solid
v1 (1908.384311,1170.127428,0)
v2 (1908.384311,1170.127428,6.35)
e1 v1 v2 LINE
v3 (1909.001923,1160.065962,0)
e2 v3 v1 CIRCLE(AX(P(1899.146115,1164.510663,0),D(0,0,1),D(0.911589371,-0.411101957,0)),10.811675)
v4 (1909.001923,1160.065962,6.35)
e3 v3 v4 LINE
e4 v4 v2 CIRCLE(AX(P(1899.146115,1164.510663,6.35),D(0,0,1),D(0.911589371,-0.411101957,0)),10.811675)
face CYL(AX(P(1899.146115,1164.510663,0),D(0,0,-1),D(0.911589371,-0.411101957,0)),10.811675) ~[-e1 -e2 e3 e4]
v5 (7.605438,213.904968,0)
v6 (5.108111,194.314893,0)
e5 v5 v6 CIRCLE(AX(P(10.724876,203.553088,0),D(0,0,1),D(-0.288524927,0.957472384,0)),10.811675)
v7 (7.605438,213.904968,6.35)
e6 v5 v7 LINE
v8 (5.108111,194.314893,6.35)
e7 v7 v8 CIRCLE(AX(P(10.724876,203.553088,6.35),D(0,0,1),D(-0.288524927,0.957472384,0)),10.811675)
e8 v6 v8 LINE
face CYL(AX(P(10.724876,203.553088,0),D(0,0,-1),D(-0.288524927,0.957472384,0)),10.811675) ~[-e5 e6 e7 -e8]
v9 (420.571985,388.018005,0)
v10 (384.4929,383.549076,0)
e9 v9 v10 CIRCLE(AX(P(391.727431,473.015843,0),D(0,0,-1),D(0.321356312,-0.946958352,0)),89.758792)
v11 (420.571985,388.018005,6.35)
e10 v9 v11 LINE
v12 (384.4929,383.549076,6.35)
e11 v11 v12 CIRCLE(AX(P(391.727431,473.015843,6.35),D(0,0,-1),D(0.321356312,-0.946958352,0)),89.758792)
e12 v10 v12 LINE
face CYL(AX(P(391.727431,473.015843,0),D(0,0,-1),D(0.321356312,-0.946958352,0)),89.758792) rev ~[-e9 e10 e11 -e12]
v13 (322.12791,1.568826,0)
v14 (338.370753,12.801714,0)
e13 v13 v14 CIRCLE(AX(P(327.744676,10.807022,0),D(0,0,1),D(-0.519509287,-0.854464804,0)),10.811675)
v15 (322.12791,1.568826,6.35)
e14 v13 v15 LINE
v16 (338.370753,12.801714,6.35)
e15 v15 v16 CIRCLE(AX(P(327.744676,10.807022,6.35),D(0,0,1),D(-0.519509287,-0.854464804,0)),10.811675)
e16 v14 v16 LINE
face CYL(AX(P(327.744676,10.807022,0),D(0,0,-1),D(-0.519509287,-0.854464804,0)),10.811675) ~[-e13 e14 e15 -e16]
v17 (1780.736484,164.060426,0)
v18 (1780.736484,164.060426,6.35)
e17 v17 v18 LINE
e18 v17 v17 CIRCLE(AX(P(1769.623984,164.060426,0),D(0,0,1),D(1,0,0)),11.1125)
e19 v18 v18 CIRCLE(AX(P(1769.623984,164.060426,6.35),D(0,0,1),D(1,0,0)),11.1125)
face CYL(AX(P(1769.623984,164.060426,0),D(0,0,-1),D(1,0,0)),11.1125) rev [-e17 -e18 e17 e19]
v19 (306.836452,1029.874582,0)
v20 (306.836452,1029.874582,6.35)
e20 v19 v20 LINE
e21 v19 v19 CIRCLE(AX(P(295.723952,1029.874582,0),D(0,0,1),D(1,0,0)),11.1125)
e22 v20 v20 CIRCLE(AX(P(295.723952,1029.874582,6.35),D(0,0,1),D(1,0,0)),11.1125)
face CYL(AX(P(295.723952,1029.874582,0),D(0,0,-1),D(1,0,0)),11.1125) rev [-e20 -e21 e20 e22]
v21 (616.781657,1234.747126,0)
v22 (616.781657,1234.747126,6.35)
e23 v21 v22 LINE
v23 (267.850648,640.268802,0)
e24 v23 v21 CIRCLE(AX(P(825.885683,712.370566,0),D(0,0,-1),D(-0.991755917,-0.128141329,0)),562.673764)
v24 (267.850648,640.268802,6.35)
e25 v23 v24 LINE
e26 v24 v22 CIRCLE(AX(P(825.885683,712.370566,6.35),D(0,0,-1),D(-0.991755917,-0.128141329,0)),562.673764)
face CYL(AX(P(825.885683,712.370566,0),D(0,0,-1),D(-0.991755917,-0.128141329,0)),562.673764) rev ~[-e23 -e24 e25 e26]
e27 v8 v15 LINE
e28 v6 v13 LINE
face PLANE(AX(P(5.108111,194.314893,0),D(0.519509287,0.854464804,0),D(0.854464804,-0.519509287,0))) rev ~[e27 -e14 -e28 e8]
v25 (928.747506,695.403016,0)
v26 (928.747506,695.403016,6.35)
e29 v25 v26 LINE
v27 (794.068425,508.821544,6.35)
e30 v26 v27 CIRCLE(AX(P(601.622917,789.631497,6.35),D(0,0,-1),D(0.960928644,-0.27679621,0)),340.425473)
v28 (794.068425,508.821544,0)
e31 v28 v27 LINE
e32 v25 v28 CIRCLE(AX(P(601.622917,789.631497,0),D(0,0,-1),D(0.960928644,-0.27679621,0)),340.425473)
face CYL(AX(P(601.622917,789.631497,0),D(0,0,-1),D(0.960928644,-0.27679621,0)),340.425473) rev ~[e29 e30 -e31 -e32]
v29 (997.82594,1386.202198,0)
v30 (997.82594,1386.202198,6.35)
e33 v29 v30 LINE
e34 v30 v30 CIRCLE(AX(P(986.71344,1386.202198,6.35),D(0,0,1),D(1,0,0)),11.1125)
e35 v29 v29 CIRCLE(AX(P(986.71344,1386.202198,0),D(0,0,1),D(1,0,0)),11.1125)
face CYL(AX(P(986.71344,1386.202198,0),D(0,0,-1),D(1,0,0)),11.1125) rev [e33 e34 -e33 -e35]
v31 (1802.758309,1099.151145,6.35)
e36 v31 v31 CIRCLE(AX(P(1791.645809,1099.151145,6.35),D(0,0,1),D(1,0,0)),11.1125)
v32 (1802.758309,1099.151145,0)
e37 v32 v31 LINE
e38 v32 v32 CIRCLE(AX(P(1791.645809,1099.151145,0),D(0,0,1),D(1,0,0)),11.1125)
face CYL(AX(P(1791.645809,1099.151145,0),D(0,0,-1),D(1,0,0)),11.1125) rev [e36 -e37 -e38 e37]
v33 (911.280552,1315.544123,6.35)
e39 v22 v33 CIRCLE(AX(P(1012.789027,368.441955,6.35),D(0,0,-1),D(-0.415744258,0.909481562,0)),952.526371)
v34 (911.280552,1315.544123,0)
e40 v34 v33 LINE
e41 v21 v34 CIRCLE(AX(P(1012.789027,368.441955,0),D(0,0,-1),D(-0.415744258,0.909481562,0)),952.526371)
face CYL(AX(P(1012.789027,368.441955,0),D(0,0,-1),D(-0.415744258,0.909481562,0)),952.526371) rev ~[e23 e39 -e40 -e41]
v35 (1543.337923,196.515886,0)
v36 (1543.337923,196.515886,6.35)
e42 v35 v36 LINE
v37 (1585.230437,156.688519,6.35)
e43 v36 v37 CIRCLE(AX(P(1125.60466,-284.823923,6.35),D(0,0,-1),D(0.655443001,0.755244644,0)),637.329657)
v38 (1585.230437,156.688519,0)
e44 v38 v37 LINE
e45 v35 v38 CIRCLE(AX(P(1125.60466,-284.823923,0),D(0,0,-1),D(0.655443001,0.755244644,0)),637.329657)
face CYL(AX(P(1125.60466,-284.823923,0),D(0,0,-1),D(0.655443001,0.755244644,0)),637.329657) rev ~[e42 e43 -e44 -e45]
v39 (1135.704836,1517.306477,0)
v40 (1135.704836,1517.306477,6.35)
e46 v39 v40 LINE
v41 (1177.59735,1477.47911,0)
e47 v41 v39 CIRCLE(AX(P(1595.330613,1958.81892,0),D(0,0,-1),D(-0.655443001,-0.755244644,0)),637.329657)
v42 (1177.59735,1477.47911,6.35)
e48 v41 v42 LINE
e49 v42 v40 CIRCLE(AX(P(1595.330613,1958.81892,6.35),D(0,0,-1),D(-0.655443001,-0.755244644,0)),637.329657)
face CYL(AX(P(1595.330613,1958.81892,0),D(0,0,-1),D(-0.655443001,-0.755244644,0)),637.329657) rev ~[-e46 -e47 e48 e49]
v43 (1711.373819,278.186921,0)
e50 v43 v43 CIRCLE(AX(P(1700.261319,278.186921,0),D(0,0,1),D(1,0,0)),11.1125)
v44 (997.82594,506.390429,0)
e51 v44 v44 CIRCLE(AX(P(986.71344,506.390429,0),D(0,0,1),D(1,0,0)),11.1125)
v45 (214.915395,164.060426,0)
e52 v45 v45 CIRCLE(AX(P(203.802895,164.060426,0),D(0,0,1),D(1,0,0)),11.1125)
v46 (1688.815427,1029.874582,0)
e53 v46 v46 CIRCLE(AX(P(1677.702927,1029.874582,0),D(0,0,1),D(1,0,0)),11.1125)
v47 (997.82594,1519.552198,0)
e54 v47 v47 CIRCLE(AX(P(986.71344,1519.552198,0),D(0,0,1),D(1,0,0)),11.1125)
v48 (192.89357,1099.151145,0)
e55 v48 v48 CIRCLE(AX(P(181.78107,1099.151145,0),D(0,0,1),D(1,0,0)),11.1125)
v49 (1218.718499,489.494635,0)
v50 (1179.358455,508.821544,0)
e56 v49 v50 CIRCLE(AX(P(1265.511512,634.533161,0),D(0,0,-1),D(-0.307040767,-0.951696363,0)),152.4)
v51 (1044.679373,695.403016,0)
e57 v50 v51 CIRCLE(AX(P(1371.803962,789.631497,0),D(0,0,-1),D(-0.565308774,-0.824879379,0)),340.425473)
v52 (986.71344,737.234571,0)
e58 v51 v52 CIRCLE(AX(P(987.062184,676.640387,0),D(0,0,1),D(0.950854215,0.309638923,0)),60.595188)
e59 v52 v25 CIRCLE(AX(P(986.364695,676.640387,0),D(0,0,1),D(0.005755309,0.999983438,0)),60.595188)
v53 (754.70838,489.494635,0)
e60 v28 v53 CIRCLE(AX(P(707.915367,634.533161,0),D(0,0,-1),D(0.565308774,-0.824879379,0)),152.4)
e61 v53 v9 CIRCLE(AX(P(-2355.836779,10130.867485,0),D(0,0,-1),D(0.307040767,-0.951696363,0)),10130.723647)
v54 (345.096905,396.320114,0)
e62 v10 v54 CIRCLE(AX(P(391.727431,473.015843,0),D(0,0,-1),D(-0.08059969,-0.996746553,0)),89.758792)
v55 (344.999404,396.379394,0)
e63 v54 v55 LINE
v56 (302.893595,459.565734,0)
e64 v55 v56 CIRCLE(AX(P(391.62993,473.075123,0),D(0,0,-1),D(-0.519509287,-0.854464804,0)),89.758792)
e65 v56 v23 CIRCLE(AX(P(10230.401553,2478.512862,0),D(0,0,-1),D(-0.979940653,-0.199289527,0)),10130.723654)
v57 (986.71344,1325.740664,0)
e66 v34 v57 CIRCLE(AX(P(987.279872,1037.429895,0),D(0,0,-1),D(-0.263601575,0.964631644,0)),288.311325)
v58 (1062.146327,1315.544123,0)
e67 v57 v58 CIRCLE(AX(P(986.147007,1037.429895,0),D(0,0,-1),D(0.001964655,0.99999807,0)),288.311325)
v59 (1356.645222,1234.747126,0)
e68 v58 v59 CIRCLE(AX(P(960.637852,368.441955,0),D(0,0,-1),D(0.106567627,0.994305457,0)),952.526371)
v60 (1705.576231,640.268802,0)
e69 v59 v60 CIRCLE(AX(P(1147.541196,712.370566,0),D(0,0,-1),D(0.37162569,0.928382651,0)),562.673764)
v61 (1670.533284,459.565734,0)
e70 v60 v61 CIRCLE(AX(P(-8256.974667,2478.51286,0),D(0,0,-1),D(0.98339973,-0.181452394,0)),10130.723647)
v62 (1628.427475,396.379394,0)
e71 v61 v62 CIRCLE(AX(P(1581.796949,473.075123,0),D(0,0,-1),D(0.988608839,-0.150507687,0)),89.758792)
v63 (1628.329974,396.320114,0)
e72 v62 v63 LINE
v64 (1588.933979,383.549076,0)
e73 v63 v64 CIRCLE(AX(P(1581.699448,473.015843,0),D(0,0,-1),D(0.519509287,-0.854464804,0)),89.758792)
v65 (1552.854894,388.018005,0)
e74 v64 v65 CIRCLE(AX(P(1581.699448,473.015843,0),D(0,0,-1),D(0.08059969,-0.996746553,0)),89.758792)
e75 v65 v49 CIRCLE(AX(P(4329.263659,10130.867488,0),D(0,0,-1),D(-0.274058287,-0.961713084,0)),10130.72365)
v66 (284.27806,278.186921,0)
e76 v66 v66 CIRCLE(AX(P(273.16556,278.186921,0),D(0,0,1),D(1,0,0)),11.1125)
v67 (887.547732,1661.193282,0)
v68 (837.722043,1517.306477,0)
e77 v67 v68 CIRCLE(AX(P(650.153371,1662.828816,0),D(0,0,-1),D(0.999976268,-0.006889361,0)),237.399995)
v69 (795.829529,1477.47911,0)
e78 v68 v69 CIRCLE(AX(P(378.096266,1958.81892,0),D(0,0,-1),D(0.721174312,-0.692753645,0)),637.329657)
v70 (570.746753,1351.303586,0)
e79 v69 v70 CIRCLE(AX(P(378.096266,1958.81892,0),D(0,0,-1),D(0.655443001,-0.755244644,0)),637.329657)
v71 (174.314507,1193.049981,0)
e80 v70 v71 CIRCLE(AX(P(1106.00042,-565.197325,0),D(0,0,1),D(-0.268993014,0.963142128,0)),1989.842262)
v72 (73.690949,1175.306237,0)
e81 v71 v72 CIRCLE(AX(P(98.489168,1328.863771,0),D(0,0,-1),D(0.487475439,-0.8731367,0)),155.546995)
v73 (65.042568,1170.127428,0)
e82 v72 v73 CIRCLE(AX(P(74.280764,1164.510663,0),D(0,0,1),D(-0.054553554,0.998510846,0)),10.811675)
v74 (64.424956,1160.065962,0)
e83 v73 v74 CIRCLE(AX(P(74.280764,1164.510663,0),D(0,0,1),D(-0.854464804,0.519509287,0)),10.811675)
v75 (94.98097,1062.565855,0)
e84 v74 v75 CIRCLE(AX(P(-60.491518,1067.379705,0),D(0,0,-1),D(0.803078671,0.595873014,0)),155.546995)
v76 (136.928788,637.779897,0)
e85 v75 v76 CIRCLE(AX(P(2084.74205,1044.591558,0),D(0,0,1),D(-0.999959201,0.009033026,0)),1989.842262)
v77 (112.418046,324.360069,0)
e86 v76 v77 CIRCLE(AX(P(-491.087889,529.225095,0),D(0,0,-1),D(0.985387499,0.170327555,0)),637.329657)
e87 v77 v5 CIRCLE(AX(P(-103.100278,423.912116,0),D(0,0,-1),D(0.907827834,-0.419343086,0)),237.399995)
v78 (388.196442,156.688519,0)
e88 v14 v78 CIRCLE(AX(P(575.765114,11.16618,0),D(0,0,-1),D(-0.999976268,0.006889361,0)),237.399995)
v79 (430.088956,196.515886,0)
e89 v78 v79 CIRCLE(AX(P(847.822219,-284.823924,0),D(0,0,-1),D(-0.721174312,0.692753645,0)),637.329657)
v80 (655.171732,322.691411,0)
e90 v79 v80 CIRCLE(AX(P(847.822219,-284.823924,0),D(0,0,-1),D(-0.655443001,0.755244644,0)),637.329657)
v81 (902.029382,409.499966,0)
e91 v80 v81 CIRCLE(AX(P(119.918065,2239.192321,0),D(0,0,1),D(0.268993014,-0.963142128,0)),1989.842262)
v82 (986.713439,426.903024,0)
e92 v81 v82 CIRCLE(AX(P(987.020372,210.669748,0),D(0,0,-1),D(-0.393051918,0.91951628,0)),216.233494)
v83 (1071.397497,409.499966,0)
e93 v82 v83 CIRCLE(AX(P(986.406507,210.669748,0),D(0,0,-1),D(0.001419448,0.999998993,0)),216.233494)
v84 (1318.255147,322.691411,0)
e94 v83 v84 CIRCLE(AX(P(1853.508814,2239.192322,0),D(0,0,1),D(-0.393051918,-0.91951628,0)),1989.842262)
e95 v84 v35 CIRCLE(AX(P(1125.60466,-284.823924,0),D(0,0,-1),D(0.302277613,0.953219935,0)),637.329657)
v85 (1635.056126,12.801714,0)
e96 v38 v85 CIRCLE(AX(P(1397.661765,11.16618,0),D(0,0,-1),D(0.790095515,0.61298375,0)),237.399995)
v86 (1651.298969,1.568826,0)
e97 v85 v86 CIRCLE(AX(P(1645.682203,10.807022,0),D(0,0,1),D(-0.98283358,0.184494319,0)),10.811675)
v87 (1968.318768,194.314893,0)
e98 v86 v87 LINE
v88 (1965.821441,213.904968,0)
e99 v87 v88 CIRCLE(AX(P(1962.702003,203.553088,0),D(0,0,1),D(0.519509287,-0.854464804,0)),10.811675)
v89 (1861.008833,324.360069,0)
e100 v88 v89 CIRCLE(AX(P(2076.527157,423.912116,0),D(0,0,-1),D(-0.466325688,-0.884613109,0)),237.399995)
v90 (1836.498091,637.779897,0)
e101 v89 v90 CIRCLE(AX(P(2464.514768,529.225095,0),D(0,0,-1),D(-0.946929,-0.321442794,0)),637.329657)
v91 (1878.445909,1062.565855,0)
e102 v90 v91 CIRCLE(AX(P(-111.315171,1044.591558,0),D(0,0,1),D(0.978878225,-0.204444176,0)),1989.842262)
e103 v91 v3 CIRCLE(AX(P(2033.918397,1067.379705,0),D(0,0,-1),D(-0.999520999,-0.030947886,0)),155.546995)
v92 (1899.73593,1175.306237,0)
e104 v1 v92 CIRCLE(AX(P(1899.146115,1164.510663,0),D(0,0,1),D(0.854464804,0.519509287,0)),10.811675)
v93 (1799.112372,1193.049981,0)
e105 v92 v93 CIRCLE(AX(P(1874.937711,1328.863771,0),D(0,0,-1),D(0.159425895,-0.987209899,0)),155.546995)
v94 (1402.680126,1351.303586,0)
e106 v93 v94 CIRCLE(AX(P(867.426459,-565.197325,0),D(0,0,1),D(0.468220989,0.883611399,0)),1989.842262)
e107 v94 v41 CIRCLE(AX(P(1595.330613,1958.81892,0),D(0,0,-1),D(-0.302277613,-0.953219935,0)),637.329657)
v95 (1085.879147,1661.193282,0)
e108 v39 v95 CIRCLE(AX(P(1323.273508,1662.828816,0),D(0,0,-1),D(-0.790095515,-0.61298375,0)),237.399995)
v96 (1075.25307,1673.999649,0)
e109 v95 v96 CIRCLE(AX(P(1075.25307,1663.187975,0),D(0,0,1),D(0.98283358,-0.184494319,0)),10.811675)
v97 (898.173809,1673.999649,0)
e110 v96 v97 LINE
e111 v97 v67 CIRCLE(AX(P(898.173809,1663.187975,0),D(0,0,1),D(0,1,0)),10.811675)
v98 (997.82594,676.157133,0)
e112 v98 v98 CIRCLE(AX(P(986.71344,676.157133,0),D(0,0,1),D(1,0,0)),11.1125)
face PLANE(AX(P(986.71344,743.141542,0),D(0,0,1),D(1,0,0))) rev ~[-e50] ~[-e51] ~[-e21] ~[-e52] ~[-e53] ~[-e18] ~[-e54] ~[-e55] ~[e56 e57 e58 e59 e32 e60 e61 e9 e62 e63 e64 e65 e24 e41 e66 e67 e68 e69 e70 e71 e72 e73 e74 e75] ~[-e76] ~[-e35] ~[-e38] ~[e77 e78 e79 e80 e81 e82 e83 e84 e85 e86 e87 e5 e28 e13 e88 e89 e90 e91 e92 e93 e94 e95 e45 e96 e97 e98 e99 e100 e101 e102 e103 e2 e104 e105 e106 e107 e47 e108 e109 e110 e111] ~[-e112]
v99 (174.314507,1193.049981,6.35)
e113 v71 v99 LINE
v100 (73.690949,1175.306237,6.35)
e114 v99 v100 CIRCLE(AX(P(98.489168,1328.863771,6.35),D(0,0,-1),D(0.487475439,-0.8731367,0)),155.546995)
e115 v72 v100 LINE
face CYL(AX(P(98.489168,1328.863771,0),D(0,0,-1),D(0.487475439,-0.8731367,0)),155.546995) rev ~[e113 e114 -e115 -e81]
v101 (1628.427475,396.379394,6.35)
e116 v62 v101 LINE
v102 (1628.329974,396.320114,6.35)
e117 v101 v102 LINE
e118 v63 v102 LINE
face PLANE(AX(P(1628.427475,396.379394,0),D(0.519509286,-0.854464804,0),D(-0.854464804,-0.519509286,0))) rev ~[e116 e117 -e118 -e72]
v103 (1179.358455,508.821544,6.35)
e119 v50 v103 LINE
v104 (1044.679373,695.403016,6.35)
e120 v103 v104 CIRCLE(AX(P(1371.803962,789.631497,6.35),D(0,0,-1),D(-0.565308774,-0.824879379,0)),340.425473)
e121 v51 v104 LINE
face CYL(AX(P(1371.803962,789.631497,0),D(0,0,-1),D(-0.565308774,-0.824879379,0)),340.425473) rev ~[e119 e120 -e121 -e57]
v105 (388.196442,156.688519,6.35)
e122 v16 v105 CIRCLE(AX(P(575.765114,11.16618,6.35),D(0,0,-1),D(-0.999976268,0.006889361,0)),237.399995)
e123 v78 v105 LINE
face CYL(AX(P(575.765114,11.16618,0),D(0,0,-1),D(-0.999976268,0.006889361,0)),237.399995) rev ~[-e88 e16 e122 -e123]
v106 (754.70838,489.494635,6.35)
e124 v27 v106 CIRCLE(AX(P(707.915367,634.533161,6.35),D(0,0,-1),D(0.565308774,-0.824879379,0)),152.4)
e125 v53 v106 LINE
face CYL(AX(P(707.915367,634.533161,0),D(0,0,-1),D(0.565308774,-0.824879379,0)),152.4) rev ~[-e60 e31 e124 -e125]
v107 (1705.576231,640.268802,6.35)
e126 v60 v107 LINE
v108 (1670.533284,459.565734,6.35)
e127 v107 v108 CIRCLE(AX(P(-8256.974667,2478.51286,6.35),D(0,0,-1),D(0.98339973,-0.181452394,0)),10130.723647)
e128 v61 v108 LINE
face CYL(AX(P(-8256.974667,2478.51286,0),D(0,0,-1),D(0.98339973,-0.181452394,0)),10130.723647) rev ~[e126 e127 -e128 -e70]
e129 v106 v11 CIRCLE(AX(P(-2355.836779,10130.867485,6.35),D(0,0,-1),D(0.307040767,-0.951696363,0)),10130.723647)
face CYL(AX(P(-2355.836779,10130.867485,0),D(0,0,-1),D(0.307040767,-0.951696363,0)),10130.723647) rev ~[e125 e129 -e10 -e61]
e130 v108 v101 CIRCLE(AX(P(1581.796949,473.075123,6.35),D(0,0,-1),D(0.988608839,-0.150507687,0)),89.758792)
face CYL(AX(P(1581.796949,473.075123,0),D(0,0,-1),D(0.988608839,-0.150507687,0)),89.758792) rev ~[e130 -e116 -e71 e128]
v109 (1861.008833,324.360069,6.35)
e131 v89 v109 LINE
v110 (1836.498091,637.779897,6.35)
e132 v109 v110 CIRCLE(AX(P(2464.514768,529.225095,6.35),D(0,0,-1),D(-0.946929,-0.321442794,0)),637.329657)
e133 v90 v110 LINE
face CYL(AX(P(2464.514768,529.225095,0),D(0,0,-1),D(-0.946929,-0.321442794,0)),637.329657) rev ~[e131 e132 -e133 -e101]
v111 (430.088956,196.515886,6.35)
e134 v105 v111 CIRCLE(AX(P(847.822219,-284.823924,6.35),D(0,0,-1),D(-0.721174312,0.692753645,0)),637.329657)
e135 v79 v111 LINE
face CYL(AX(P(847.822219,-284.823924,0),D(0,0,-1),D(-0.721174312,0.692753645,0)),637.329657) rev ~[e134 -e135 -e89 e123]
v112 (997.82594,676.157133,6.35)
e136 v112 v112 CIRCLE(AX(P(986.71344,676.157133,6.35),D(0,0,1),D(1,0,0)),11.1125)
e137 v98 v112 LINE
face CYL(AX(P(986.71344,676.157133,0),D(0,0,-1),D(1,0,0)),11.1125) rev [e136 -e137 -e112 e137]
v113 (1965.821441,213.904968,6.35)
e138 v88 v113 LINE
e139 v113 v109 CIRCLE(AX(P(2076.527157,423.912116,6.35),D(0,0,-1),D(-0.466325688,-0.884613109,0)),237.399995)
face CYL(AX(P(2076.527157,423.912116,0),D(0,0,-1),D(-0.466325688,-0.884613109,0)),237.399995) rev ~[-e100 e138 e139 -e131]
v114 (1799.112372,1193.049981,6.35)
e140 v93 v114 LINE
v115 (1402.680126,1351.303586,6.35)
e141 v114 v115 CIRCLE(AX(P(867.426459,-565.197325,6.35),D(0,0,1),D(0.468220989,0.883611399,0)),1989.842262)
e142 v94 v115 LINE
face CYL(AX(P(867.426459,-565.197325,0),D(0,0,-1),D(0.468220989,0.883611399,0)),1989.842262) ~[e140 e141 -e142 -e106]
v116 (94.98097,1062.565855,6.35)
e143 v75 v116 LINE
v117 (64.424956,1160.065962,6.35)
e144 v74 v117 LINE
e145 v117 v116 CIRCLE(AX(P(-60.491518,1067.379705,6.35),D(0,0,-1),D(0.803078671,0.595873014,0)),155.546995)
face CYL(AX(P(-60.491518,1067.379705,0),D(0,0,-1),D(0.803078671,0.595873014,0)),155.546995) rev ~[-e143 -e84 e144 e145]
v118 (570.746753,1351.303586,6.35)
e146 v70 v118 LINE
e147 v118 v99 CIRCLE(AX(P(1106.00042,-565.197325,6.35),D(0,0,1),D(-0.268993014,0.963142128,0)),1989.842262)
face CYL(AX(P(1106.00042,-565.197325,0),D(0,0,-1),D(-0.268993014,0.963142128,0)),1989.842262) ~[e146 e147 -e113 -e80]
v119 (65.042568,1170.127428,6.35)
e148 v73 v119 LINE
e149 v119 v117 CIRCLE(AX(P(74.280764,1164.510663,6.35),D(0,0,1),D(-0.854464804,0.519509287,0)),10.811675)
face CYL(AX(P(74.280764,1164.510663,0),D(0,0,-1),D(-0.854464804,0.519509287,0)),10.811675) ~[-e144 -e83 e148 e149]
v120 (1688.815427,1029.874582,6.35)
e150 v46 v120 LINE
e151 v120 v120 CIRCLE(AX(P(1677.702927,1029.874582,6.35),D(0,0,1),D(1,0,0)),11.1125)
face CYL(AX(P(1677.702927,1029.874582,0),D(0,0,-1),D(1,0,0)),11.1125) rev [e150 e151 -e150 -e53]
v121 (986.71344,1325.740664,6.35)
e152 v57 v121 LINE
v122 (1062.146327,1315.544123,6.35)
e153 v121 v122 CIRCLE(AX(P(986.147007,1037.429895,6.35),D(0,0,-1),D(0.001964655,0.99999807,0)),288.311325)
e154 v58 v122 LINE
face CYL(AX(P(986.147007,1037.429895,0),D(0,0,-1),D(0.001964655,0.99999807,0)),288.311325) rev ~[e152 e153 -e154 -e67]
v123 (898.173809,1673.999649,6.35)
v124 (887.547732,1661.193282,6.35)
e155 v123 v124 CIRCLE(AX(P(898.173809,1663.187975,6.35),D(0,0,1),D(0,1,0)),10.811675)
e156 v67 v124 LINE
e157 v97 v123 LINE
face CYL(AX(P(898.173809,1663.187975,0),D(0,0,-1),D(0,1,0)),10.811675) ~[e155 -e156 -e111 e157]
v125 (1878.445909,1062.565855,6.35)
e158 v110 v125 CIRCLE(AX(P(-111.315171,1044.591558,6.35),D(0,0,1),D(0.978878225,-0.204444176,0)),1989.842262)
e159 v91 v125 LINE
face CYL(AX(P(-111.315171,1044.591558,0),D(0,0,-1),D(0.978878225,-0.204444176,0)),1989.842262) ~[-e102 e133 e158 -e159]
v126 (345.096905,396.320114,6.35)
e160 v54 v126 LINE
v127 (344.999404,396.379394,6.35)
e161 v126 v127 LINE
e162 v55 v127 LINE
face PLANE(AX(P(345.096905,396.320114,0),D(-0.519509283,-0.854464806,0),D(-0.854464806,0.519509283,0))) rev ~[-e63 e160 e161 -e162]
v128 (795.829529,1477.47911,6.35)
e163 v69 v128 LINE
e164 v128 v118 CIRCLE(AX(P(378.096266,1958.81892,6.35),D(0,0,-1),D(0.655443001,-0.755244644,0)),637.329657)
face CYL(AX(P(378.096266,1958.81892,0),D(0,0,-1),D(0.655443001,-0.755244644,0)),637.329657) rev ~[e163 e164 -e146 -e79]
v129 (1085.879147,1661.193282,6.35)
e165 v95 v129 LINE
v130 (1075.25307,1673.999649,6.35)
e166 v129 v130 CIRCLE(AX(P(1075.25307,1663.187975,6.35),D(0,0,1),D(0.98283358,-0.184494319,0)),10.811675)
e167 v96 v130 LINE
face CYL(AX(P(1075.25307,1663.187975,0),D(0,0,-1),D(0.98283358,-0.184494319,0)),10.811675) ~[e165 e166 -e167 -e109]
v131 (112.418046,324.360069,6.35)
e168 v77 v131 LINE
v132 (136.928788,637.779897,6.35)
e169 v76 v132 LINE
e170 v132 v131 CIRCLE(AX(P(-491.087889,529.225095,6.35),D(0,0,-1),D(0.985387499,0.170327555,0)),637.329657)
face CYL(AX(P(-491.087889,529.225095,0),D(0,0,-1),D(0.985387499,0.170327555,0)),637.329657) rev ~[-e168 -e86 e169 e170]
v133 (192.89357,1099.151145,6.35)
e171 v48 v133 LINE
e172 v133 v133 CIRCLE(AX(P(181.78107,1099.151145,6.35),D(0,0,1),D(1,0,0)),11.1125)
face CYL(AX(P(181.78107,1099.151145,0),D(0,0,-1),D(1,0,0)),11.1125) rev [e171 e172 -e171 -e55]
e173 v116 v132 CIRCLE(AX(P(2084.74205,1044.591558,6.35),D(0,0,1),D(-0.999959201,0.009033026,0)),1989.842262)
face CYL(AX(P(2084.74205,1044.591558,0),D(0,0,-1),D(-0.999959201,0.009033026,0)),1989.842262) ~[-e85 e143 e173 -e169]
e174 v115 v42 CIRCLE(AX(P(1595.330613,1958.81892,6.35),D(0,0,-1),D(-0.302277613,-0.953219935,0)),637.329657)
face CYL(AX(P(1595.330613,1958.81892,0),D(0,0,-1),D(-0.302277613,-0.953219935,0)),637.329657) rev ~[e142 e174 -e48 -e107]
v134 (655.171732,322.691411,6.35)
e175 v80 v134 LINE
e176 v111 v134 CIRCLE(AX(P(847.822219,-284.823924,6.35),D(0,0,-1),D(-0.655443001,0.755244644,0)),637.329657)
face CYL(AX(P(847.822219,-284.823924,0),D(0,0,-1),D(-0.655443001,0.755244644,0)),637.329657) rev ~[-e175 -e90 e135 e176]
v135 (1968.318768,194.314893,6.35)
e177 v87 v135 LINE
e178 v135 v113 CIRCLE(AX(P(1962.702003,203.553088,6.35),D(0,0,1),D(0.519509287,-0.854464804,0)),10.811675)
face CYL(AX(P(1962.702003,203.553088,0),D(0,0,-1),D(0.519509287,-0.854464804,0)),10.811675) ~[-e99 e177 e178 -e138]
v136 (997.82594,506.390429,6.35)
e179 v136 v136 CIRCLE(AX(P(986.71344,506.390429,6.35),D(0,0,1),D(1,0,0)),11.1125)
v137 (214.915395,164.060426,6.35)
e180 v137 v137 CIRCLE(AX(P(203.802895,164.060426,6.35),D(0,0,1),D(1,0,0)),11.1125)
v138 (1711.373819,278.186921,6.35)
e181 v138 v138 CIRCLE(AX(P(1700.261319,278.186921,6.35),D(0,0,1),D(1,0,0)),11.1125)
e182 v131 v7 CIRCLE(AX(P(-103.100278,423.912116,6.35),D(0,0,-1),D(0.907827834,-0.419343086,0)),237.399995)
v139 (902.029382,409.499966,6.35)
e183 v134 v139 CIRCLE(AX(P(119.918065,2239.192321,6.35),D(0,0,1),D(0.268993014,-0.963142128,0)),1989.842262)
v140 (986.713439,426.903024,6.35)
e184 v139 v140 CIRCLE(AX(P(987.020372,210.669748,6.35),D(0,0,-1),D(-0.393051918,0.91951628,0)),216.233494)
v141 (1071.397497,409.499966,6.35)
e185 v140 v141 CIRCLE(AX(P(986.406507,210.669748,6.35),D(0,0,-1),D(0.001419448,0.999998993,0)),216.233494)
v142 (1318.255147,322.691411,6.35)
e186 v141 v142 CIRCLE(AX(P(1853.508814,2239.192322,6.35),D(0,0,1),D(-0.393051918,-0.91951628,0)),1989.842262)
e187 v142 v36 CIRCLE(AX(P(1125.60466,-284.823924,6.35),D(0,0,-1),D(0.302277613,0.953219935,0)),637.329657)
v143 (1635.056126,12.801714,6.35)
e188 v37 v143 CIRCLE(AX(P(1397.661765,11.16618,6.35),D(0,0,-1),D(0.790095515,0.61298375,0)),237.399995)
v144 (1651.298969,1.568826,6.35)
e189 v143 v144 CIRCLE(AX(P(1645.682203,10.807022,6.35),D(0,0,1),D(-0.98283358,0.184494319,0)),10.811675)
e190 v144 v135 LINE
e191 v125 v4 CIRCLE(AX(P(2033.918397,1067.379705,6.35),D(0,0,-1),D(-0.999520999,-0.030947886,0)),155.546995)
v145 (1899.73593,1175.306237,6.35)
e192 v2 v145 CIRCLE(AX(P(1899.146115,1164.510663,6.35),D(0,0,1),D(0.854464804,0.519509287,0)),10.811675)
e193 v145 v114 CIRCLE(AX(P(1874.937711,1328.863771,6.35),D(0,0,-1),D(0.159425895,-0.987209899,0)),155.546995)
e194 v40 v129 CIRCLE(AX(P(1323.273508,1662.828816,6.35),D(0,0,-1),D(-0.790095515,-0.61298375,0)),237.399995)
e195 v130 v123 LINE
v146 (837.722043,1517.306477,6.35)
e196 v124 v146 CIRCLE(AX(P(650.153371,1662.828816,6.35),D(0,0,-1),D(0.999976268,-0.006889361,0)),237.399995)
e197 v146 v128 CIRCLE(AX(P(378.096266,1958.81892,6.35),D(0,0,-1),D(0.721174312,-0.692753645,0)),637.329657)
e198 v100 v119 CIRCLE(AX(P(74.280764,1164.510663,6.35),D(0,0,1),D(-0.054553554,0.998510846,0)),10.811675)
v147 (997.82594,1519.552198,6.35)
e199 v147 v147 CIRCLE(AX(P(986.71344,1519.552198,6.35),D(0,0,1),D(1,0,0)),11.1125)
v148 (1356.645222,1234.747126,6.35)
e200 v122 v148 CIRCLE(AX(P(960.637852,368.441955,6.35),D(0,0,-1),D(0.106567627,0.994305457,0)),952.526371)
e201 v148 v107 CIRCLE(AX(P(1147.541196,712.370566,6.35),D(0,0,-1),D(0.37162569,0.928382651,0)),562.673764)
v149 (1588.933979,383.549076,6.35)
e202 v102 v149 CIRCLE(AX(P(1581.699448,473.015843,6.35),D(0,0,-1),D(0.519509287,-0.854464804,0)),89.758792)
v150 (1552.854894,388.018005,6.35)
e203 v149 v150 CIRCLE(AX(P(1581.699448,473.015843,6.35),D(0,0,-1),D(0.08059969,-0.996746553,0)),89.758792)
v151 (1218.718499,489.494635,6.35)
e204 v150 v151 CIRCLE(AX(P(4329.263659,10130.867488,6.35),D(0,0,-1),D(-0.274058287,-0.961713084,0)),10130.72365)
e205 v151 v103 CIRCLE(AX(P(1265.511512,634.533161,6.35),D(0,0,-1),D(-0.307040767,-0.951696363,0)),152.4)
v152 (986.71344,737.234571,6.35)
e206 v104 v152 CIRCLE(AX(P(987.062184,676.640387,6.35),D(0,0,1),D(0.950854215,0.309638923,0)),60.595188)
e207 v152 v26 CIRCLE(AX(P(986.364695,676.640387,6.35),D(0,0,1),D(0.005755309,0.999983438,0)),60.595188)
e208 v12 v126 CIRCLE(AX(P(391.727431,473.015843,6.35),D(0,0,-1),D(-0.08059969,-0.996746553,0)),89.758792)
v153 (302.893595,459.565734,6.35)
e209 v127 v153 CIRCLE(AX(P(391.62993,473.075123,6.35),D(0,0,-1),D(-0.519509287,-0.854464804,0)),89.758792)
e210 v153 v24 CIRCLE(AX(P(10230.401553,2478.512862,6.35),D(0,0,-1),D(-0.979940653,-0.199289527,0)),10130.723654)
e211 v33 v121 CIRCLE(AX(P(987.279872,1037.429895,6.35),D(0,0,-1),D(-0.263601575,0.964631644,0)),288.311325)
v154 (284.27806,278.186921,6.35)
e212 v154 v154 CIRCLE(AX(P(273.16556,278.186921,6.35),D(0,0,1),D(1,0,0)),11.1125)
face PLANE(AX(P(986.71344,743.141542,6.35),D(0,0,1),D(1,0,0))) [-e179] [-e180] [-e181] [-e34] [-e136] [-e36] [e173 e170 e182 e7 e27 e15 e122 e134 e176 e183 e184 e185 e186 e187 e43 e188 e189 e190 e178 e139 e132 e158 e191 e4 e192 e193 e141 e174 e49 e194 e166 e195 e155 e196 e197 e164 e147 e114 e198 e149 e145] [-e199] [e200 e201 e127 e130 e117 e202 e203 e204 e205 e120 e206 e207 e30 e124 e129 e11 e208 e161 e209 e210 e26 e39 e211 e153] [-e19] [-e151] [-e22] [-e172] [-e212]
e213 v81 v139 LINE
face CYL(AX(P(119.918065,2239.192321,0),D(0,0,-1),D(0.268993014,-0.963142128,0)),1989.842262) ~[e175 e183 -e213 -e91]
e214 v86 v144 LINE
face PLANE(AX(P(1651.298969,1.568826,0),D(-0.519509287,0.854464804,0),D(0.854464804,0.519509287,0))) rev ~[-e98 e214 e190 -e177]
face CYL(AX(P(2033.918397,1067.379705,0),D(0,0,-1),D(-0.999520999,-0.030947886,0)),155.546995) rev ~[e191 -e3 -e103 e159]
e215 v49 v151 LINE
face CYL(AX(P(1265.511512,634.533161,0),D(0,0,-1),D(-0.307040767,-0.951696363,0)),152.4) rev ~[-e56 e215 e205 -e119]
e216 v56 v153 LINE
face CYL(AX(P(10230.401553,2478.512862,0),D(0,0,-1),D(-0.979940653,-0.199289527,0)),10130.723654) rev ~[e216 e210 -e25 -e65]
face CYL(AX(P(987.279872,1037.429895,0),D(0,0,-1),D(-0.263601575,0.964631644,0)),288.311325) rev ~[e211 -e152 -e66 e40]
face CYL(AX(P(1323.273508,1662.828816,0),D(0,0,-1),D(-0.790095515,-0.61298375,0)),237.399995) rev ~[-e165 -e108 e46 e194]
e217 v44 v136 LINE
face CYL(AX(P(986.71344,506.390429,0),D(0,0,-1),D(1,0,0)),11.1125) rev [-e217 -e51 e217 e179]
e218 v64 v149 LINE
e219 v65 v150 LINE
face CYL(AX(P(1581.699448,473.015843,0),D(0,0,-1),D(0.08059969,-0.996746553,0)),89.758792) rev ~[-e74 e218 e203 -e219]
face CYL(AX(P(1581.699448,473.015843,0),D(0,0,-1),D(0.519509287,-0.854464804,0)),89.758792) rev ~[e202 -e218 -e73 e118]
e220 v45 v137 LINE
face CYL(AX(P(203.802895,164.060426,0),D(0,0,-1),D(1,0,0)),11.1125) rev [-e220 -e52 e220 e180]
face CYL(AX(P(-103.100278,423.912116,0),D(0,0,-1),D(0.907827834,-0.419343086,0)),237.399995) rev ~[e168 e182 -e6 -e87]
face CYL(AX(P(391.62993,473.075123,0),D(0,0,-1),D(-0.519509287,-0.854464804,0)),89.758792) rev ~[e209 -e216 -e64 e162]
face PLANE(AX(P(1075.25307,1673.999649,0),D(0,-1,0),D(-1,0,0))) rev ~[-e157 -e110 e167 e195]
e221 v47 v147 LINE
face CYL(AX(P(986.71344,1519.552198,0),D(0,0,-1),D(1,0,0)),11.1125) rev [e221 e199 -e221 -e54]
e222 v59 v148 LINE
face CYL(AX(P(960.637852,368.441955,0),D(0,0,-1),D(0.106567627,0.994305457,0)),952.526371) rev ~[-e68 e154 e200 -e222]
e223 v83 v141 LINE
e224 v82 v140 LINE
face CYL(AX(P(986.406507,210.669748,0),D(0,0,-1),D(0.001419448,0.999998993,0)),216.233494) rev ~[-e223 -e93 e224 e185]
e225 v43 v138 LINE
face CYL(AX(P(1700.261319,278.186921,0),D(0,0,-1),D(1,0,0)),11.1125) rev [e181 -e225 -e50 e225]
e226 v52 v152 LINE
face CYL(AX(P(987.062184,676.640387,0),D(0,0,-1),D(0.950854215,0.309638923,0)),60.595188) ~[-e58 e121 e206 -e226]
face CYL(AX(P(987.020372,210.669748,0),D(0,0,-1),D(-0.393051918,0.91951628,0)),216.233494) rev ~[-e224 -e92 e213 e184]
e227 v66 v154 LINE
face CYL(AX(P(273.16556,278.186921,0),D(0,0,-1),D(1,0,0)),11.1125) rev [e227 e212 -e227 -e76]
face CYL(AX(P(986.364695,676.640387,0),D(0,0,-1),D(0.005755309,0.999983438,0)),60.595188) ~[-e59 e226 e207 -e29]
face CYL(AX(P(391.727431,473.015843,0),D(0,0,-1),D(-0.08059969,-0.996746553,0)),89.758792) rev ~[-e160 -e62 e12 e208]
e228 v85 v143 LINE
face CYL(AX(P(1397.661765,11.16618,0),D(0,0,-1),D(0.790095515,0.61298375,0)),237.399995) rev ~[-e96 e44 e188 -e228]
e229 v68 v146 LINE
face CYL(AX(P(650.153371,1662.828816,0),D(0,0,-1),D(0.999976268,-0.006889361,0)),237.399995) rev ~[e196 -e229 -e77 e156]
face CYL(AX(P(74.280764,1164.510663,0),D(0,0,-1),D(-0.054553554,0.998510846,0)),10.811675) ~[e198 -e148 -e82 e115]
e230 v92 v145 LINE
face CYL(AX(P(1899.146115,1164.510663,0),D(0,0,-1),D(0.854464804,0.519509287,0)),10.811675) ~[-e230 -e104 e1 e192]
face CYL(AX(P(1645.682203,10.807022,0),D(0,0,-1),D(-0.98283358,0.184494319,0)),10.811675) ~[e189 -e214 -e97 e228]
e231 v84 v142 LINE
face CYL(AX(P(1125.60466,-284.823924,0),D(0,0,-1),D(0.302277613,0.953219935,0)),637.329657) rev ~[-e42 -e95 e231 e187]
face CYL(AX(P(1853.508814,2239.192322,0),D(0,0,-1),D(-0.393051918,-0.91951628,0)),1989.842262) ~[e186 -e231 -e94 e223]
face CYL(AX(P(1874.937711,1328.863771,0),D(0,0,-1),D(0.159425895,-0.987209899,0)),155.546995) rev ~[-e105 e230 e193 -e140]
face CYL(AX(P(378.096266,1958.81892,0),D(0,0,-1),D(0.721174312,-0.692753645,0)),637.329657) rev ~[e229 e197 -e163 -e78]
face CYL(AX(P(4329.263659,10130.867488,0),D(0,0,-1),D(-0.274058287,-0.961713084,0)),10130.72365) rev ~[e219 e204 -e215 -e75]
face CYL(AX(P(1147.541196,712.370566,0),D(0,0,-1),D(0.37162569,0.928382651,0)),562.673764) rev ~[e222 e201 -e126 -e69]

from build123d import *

# Parameters (mm, degrees)
MODEL_R             = 11.1125
BOSS_EXTRUDE1_DEPTH = 6.35


with BuildPart() as part:
    # Model → Boss-Extrude1 (new body)
    with BuildSketch(Plane.XY):
        with BuildLine():
            Line((5.108110735, 194.314892531), (163.618010499, 97.941859293))
            Line((163.618010499, 97.941859293), (322.127910263, 1.568826055))
            ThreePointArc((322.127910263, 1.568826055), (333.89428898, 1.914633478), (338.370752597, 12.801714096))
            ThreePointArc((338.370752597, 12.801714096), (351.434447306, 88.848287087), (388.196442443, 156.688519227))
            ThreePointArc((388.196442443, 156.688519227), (408.690944842, 177.077381556), (430.088955815, 196.51588618))
            ThreePointArc((430.088955815, 196.51588618), (536.177956286, 271.113973278), (655.171731621, 322.6914107))
            ThreePointArc((655.171731621, 322.6914107), (780.029083347, 362.033385202), (902.029382318, 409.499965959))
            ThreePointArc((902.029382318, 409.499965959), (943.4927889, 422.476908859), (986.713439487, 426.903024))
            ThreePointArc((986.713439487, 426.903024), (1029.934090103, 422.476908864), (1071.397496712, 409.499965959))
            ThreePointArc((1071.397496712, 409.499965959), (1193.397795685, 362.033385202), (1318.255147412, 322.691410699))
            ThreePointArc((1318.255147412, 322.691410699), (1437.248922745, 271.113973277), (1543.337923214, 196.51588618))
            ThreePointArc((1543.337923214, 196.51588618), (1564.735934188, 177.077381556), (1585.230436587, 156.688519227))
            ThreePointArc((1585.230436587, 156.688519227), (1621.992431724, 88.848287087), (1635.056126433, 12.801714096))
            ThreePointArc((1635.056126433, 12.801714096), (1639.53259005, 1.914633478), (1651.298968767, 1.568826055))
            Line((1651.298968767, 1.568826055), (1809.808868531, 97.941859293))
            Line((1809.808868531, 97.941859293), (1968.318768295, 194.314892531))
            ThreePointArc((1968.318768295, 194.314892531), (1973.426883996, 204.920287614), (1965.821440542, 213.90496795))
            ThreePointArc((1965.821440542, 213.90496795), (1904.319104128, 260.501148039), (1861.008833141, 324.360069187))
            ThreePointArc((1861.008833141, 324.360069187), (1829.125136948, 479.534965955), (1836.498090618, 637.779897071))
            ThreePointArc((1836.498090618, 637.779897071), (1868.895348354, 849.044814678), (1878.445908783, 1062.565854661))
            ThreePointArc((1878.445908783, 1062.565854661), (1885.489759902, 1113.896449039), (1909.00192278, 1160.065962298))
            ThreePointArc((1909.00192278, 1160.065962298), (1909.937478003, 1165.173079083), (1908.384310543, 1170.127428311))
            ThreePointArc((1908.384310543, 1170.127428311), (1904.700614553, 1173.786429442), (1899.735930337, 1175.306237344))
            ThreePointArc((1899.735930337, 1175.306237344), (1847.925642431, 1175.680168978), (1799.112371696, 1193.049980658))
            ThreePointArc((1799.112371696, 1193.049980658), (1605.15200634, 1282.837643457), (1402.680125607, 1351.303585593))
            ThreePointArc((1402.680125607, 1351.303585593), (1283.68635027, 1402.881023015), (1177.597349797, 1477.479110114))
            ThreePointArc((1177.597349797, 1477.479110114), (1156.199338824, 1496.917614738), (1135.704836425, 1517.306477067))
            ThreePointArc((1135.704836425, 1517.306477067), (1098.942841288, 1585.146709207), (1085.879146579, 1661.193282198))
            ThreePointArc((1085.879146579, 1661.193282198), (1083.573474575, 1670.091826663), (1075.253069645, 1673.999649433))
            Line((1075.253069645, 1673.999649433), (987.410269122, 1673.999649433))
            Line((987.410269122, 1673.999649433), (986.016609907, 1673.999649433))
            Line((986.016609907, 1673.999649433), (898.173809384, 1673.999649433))
            ThreePointArc((898.173809384, 1673.999649433), (889.853404455, 1670.091826664), (887.54773245, 1661.193282198))
            ThreePointArc((887.54773245, 1661.193282198), (874.484037741, 1585.146709206), (837.722042605, 1517.306477067))
            ThreePointArc((837.722042605, 1517.306477067), (817.227540206, 1496.917614738), (795.829529232, 1477.479110114))
            ThreePointArc((795.829529232, 1477.479110114), (689.74052876, 1402.881023015), (570.746753423, 1351.303585593))
            ThreePointArc((570.746753423, 1351.303585593), (368.274872692, 1282.837643458), (174.314507337, 1193.04998066))
            ThreePointArc((174.314507337, 1193.04998066), (125.5012366, 1175.680168978), (73.690948693, 1175.306237344))
            ThreePointArc((73.690948693, 1175.306237344), (68.726264477, 1173.786429442), (65.042568486, 1170.127428311))
            ThreePointArc((65.042568486, 1170.127428311), (63.489401027, 1165.173079083), (64.42495625, 1160.065962298))
            ThreePointArc((64.42495625, 1160.065962298), (87.937119128, 1113.896449039), (94.980970247, 1062.565854661))
            ThreePointArc((94.980970247, 1062.565854661), (104.531530676, 849.044814678), (136.928788412, 637.779897071))
            ThreePointArc((136.928788412, 637.779897071), (144.301742082, 479.534965955), (112.418045889, 324.360069187))
            ThreePointArc((112.418045889, 324.360069187), (69.107774901, 260.501148039), (7.605438488, 213.90496795))
            ThreePointArc((7.605438488, 213.90496795), (-4.967e-06, 204.920287614), (5.108110735, 194.314892531))
        make_face()
        with Locations((203.802894797, 164.060426103)):
            Circle(MODEL_R, mode=Mode.SUBTRACT)
        with Locations((273.165559958, 278.186921443)):
            Circle(MODEL_R, mode=Mode.SUBTRACT)
        with Locations((1769.623984233, 164.060426103)):
            Circle(MODEL_R, mode=Mode.SUBTRACT)
        with Locations((1700.261319072, 278.186921443)):
            Circle(MODEL_R, mode=Mode.SUBTRACT)
        with Locations((986.713439515, 506.390428564)):
            Circle(MODEL_R, mode=Mode.SUBTRACT)
        with Locations((986.713439515, 676.157132765)):
            Circle(MODEL_R, mode=Mode.SUBTRACT)
        with Locations((295.723951941, 1029.874581844)):
            Circle(MODEL_R, mode=Mode.SUBTRACT)
        with Locations((181.78107034, 1099.151145215)):
            Circle(MODEL_R, mode=Mode.SUBTRACT)
        with BuildLine():
            Line((345.096905092, 396.320114284), (344.999404352, 396.379394127))
            ThreePointArc((344.999404352, 396.379394127), (316.936053956, 423.300977152), (302.89359528, 459.565734456))
            ThreePointArc((302.89359528, 459.565734456), (284.961704097, 549.837677781), (267.850648214, 640.268802068))
            ThreePointArc((267.850648214, 640.268802068), (340.626263773, 997.19517935), (616.781657489, 1234.747126388))
            ThreePointArc((616.781657489, 1234.747126388), (760.772078282, 1287.024528435), (911.280552404, 1315.544122787))
            ThreePointArc((911.280552404, 1315.544122787), (948.659010331, 1323.142774148), (986.713439625, 1325.740663802))
            ThreePointArc((986.713439625, 1325.740663802), (1024.767868806, 1323.142774133), (1062.146326623, 1315.544122787))
            ThreePointArc((1062.146326623, 1315.544122787), (1212.654800747, 1287.024528436), (1356.64522154, 1234.747126389))
            ThreePointArc((1356.64522154, 1234.747126389), (1632.800615257, 997.195179351), (1705.576230816, 640.268802068))
            ThreePointArc((1705.576230816, 640.268802068), (1688.465174933, 549.837677782), (1670.533283749, 459.565734456))
            ThreePointArc((1670.533283749, 459.565734456), (1656.490825211, 423.300977357), (1628.4274751, 396.379394384))
            Line((1628.4274751, 396.379394384), (1628.329973938, 396.320114284))
            ThreePointArc((1628.329973938, 396.320114284), (1609.378608682, 387.631389964), (1588.933978787, 383.54907642))
            ThreePointArc((1588.933978787, 383.54907642), (1570.665812577, 383.937789322), (1552.854893643, 388.018005146))
            ThreePointArc((1552.854893643, 388.018005146), (1385.349426739, 437.316504437), (1218.71849884, 489.49463532))
            ThreePointArc((1218.71849884, 489.49463532), (1198.339741351, 497.735086266), (1179.358454519, 508.821543715))
            ThreePointArc((1179.358454519, 508.821543715), (1095.776005774, 590.387750311), (1044.679373403, 695.403015663))
            ThreePointArc((1044.679373403, 695.403015663), (1022.521857597, 725.776812519), (986.713439515, 737.234571316))
            ThreePointArc((986.713439515, 737.234571316), (950.905021434, 725.776812519), (928.747505628, 695.403015664))
            ThreePointArc((928.747505628, 695.403015664), (877.650873256, 590.387750312), (794.068424511, 508.821543716))
            ThreePointArc((794.068424511, 508.821543716), (775.087137679, 497.735086266), (754.70838019, 489.49463532))
            ThreePointArc((754.70838019, 489.49463532), (588.077452291, 437.316504437), (420.571985387, 388.018005147))
            ThreePointArc((420.571985387, 388.018005147), (402.761066453, 383.937789322), (384.492900242, 383.54907642))
            ThreePointArc((384.492900242, 383.54907642), (364.048270348, 387.631389964), (345.096905092, 396.320114284))
        make_face(mode=Mode.SUBTRACT)
        with Locations((1677.702927089, 1029.874581844)):
            Circle(MODEL_R, mode=Mode.SUBTRACT)
        with Locations((1791.64580869, 1099.151145215)):
            Circle(MODEL_R, mode=Mode.SUBTRACT)
        with Locations((986.713439515, 1386.202197897)):
            Circle(MODEL_R, mode=Mode.SUBTRACT)
        with Locations((986.713439515, 1519.552197898)):
            Circle(MODEL_R, mode=Mode.SUBTRACT)
    extrude(amount=BOSS_EXTRUDE1_DEPTH)


solid = part.part
